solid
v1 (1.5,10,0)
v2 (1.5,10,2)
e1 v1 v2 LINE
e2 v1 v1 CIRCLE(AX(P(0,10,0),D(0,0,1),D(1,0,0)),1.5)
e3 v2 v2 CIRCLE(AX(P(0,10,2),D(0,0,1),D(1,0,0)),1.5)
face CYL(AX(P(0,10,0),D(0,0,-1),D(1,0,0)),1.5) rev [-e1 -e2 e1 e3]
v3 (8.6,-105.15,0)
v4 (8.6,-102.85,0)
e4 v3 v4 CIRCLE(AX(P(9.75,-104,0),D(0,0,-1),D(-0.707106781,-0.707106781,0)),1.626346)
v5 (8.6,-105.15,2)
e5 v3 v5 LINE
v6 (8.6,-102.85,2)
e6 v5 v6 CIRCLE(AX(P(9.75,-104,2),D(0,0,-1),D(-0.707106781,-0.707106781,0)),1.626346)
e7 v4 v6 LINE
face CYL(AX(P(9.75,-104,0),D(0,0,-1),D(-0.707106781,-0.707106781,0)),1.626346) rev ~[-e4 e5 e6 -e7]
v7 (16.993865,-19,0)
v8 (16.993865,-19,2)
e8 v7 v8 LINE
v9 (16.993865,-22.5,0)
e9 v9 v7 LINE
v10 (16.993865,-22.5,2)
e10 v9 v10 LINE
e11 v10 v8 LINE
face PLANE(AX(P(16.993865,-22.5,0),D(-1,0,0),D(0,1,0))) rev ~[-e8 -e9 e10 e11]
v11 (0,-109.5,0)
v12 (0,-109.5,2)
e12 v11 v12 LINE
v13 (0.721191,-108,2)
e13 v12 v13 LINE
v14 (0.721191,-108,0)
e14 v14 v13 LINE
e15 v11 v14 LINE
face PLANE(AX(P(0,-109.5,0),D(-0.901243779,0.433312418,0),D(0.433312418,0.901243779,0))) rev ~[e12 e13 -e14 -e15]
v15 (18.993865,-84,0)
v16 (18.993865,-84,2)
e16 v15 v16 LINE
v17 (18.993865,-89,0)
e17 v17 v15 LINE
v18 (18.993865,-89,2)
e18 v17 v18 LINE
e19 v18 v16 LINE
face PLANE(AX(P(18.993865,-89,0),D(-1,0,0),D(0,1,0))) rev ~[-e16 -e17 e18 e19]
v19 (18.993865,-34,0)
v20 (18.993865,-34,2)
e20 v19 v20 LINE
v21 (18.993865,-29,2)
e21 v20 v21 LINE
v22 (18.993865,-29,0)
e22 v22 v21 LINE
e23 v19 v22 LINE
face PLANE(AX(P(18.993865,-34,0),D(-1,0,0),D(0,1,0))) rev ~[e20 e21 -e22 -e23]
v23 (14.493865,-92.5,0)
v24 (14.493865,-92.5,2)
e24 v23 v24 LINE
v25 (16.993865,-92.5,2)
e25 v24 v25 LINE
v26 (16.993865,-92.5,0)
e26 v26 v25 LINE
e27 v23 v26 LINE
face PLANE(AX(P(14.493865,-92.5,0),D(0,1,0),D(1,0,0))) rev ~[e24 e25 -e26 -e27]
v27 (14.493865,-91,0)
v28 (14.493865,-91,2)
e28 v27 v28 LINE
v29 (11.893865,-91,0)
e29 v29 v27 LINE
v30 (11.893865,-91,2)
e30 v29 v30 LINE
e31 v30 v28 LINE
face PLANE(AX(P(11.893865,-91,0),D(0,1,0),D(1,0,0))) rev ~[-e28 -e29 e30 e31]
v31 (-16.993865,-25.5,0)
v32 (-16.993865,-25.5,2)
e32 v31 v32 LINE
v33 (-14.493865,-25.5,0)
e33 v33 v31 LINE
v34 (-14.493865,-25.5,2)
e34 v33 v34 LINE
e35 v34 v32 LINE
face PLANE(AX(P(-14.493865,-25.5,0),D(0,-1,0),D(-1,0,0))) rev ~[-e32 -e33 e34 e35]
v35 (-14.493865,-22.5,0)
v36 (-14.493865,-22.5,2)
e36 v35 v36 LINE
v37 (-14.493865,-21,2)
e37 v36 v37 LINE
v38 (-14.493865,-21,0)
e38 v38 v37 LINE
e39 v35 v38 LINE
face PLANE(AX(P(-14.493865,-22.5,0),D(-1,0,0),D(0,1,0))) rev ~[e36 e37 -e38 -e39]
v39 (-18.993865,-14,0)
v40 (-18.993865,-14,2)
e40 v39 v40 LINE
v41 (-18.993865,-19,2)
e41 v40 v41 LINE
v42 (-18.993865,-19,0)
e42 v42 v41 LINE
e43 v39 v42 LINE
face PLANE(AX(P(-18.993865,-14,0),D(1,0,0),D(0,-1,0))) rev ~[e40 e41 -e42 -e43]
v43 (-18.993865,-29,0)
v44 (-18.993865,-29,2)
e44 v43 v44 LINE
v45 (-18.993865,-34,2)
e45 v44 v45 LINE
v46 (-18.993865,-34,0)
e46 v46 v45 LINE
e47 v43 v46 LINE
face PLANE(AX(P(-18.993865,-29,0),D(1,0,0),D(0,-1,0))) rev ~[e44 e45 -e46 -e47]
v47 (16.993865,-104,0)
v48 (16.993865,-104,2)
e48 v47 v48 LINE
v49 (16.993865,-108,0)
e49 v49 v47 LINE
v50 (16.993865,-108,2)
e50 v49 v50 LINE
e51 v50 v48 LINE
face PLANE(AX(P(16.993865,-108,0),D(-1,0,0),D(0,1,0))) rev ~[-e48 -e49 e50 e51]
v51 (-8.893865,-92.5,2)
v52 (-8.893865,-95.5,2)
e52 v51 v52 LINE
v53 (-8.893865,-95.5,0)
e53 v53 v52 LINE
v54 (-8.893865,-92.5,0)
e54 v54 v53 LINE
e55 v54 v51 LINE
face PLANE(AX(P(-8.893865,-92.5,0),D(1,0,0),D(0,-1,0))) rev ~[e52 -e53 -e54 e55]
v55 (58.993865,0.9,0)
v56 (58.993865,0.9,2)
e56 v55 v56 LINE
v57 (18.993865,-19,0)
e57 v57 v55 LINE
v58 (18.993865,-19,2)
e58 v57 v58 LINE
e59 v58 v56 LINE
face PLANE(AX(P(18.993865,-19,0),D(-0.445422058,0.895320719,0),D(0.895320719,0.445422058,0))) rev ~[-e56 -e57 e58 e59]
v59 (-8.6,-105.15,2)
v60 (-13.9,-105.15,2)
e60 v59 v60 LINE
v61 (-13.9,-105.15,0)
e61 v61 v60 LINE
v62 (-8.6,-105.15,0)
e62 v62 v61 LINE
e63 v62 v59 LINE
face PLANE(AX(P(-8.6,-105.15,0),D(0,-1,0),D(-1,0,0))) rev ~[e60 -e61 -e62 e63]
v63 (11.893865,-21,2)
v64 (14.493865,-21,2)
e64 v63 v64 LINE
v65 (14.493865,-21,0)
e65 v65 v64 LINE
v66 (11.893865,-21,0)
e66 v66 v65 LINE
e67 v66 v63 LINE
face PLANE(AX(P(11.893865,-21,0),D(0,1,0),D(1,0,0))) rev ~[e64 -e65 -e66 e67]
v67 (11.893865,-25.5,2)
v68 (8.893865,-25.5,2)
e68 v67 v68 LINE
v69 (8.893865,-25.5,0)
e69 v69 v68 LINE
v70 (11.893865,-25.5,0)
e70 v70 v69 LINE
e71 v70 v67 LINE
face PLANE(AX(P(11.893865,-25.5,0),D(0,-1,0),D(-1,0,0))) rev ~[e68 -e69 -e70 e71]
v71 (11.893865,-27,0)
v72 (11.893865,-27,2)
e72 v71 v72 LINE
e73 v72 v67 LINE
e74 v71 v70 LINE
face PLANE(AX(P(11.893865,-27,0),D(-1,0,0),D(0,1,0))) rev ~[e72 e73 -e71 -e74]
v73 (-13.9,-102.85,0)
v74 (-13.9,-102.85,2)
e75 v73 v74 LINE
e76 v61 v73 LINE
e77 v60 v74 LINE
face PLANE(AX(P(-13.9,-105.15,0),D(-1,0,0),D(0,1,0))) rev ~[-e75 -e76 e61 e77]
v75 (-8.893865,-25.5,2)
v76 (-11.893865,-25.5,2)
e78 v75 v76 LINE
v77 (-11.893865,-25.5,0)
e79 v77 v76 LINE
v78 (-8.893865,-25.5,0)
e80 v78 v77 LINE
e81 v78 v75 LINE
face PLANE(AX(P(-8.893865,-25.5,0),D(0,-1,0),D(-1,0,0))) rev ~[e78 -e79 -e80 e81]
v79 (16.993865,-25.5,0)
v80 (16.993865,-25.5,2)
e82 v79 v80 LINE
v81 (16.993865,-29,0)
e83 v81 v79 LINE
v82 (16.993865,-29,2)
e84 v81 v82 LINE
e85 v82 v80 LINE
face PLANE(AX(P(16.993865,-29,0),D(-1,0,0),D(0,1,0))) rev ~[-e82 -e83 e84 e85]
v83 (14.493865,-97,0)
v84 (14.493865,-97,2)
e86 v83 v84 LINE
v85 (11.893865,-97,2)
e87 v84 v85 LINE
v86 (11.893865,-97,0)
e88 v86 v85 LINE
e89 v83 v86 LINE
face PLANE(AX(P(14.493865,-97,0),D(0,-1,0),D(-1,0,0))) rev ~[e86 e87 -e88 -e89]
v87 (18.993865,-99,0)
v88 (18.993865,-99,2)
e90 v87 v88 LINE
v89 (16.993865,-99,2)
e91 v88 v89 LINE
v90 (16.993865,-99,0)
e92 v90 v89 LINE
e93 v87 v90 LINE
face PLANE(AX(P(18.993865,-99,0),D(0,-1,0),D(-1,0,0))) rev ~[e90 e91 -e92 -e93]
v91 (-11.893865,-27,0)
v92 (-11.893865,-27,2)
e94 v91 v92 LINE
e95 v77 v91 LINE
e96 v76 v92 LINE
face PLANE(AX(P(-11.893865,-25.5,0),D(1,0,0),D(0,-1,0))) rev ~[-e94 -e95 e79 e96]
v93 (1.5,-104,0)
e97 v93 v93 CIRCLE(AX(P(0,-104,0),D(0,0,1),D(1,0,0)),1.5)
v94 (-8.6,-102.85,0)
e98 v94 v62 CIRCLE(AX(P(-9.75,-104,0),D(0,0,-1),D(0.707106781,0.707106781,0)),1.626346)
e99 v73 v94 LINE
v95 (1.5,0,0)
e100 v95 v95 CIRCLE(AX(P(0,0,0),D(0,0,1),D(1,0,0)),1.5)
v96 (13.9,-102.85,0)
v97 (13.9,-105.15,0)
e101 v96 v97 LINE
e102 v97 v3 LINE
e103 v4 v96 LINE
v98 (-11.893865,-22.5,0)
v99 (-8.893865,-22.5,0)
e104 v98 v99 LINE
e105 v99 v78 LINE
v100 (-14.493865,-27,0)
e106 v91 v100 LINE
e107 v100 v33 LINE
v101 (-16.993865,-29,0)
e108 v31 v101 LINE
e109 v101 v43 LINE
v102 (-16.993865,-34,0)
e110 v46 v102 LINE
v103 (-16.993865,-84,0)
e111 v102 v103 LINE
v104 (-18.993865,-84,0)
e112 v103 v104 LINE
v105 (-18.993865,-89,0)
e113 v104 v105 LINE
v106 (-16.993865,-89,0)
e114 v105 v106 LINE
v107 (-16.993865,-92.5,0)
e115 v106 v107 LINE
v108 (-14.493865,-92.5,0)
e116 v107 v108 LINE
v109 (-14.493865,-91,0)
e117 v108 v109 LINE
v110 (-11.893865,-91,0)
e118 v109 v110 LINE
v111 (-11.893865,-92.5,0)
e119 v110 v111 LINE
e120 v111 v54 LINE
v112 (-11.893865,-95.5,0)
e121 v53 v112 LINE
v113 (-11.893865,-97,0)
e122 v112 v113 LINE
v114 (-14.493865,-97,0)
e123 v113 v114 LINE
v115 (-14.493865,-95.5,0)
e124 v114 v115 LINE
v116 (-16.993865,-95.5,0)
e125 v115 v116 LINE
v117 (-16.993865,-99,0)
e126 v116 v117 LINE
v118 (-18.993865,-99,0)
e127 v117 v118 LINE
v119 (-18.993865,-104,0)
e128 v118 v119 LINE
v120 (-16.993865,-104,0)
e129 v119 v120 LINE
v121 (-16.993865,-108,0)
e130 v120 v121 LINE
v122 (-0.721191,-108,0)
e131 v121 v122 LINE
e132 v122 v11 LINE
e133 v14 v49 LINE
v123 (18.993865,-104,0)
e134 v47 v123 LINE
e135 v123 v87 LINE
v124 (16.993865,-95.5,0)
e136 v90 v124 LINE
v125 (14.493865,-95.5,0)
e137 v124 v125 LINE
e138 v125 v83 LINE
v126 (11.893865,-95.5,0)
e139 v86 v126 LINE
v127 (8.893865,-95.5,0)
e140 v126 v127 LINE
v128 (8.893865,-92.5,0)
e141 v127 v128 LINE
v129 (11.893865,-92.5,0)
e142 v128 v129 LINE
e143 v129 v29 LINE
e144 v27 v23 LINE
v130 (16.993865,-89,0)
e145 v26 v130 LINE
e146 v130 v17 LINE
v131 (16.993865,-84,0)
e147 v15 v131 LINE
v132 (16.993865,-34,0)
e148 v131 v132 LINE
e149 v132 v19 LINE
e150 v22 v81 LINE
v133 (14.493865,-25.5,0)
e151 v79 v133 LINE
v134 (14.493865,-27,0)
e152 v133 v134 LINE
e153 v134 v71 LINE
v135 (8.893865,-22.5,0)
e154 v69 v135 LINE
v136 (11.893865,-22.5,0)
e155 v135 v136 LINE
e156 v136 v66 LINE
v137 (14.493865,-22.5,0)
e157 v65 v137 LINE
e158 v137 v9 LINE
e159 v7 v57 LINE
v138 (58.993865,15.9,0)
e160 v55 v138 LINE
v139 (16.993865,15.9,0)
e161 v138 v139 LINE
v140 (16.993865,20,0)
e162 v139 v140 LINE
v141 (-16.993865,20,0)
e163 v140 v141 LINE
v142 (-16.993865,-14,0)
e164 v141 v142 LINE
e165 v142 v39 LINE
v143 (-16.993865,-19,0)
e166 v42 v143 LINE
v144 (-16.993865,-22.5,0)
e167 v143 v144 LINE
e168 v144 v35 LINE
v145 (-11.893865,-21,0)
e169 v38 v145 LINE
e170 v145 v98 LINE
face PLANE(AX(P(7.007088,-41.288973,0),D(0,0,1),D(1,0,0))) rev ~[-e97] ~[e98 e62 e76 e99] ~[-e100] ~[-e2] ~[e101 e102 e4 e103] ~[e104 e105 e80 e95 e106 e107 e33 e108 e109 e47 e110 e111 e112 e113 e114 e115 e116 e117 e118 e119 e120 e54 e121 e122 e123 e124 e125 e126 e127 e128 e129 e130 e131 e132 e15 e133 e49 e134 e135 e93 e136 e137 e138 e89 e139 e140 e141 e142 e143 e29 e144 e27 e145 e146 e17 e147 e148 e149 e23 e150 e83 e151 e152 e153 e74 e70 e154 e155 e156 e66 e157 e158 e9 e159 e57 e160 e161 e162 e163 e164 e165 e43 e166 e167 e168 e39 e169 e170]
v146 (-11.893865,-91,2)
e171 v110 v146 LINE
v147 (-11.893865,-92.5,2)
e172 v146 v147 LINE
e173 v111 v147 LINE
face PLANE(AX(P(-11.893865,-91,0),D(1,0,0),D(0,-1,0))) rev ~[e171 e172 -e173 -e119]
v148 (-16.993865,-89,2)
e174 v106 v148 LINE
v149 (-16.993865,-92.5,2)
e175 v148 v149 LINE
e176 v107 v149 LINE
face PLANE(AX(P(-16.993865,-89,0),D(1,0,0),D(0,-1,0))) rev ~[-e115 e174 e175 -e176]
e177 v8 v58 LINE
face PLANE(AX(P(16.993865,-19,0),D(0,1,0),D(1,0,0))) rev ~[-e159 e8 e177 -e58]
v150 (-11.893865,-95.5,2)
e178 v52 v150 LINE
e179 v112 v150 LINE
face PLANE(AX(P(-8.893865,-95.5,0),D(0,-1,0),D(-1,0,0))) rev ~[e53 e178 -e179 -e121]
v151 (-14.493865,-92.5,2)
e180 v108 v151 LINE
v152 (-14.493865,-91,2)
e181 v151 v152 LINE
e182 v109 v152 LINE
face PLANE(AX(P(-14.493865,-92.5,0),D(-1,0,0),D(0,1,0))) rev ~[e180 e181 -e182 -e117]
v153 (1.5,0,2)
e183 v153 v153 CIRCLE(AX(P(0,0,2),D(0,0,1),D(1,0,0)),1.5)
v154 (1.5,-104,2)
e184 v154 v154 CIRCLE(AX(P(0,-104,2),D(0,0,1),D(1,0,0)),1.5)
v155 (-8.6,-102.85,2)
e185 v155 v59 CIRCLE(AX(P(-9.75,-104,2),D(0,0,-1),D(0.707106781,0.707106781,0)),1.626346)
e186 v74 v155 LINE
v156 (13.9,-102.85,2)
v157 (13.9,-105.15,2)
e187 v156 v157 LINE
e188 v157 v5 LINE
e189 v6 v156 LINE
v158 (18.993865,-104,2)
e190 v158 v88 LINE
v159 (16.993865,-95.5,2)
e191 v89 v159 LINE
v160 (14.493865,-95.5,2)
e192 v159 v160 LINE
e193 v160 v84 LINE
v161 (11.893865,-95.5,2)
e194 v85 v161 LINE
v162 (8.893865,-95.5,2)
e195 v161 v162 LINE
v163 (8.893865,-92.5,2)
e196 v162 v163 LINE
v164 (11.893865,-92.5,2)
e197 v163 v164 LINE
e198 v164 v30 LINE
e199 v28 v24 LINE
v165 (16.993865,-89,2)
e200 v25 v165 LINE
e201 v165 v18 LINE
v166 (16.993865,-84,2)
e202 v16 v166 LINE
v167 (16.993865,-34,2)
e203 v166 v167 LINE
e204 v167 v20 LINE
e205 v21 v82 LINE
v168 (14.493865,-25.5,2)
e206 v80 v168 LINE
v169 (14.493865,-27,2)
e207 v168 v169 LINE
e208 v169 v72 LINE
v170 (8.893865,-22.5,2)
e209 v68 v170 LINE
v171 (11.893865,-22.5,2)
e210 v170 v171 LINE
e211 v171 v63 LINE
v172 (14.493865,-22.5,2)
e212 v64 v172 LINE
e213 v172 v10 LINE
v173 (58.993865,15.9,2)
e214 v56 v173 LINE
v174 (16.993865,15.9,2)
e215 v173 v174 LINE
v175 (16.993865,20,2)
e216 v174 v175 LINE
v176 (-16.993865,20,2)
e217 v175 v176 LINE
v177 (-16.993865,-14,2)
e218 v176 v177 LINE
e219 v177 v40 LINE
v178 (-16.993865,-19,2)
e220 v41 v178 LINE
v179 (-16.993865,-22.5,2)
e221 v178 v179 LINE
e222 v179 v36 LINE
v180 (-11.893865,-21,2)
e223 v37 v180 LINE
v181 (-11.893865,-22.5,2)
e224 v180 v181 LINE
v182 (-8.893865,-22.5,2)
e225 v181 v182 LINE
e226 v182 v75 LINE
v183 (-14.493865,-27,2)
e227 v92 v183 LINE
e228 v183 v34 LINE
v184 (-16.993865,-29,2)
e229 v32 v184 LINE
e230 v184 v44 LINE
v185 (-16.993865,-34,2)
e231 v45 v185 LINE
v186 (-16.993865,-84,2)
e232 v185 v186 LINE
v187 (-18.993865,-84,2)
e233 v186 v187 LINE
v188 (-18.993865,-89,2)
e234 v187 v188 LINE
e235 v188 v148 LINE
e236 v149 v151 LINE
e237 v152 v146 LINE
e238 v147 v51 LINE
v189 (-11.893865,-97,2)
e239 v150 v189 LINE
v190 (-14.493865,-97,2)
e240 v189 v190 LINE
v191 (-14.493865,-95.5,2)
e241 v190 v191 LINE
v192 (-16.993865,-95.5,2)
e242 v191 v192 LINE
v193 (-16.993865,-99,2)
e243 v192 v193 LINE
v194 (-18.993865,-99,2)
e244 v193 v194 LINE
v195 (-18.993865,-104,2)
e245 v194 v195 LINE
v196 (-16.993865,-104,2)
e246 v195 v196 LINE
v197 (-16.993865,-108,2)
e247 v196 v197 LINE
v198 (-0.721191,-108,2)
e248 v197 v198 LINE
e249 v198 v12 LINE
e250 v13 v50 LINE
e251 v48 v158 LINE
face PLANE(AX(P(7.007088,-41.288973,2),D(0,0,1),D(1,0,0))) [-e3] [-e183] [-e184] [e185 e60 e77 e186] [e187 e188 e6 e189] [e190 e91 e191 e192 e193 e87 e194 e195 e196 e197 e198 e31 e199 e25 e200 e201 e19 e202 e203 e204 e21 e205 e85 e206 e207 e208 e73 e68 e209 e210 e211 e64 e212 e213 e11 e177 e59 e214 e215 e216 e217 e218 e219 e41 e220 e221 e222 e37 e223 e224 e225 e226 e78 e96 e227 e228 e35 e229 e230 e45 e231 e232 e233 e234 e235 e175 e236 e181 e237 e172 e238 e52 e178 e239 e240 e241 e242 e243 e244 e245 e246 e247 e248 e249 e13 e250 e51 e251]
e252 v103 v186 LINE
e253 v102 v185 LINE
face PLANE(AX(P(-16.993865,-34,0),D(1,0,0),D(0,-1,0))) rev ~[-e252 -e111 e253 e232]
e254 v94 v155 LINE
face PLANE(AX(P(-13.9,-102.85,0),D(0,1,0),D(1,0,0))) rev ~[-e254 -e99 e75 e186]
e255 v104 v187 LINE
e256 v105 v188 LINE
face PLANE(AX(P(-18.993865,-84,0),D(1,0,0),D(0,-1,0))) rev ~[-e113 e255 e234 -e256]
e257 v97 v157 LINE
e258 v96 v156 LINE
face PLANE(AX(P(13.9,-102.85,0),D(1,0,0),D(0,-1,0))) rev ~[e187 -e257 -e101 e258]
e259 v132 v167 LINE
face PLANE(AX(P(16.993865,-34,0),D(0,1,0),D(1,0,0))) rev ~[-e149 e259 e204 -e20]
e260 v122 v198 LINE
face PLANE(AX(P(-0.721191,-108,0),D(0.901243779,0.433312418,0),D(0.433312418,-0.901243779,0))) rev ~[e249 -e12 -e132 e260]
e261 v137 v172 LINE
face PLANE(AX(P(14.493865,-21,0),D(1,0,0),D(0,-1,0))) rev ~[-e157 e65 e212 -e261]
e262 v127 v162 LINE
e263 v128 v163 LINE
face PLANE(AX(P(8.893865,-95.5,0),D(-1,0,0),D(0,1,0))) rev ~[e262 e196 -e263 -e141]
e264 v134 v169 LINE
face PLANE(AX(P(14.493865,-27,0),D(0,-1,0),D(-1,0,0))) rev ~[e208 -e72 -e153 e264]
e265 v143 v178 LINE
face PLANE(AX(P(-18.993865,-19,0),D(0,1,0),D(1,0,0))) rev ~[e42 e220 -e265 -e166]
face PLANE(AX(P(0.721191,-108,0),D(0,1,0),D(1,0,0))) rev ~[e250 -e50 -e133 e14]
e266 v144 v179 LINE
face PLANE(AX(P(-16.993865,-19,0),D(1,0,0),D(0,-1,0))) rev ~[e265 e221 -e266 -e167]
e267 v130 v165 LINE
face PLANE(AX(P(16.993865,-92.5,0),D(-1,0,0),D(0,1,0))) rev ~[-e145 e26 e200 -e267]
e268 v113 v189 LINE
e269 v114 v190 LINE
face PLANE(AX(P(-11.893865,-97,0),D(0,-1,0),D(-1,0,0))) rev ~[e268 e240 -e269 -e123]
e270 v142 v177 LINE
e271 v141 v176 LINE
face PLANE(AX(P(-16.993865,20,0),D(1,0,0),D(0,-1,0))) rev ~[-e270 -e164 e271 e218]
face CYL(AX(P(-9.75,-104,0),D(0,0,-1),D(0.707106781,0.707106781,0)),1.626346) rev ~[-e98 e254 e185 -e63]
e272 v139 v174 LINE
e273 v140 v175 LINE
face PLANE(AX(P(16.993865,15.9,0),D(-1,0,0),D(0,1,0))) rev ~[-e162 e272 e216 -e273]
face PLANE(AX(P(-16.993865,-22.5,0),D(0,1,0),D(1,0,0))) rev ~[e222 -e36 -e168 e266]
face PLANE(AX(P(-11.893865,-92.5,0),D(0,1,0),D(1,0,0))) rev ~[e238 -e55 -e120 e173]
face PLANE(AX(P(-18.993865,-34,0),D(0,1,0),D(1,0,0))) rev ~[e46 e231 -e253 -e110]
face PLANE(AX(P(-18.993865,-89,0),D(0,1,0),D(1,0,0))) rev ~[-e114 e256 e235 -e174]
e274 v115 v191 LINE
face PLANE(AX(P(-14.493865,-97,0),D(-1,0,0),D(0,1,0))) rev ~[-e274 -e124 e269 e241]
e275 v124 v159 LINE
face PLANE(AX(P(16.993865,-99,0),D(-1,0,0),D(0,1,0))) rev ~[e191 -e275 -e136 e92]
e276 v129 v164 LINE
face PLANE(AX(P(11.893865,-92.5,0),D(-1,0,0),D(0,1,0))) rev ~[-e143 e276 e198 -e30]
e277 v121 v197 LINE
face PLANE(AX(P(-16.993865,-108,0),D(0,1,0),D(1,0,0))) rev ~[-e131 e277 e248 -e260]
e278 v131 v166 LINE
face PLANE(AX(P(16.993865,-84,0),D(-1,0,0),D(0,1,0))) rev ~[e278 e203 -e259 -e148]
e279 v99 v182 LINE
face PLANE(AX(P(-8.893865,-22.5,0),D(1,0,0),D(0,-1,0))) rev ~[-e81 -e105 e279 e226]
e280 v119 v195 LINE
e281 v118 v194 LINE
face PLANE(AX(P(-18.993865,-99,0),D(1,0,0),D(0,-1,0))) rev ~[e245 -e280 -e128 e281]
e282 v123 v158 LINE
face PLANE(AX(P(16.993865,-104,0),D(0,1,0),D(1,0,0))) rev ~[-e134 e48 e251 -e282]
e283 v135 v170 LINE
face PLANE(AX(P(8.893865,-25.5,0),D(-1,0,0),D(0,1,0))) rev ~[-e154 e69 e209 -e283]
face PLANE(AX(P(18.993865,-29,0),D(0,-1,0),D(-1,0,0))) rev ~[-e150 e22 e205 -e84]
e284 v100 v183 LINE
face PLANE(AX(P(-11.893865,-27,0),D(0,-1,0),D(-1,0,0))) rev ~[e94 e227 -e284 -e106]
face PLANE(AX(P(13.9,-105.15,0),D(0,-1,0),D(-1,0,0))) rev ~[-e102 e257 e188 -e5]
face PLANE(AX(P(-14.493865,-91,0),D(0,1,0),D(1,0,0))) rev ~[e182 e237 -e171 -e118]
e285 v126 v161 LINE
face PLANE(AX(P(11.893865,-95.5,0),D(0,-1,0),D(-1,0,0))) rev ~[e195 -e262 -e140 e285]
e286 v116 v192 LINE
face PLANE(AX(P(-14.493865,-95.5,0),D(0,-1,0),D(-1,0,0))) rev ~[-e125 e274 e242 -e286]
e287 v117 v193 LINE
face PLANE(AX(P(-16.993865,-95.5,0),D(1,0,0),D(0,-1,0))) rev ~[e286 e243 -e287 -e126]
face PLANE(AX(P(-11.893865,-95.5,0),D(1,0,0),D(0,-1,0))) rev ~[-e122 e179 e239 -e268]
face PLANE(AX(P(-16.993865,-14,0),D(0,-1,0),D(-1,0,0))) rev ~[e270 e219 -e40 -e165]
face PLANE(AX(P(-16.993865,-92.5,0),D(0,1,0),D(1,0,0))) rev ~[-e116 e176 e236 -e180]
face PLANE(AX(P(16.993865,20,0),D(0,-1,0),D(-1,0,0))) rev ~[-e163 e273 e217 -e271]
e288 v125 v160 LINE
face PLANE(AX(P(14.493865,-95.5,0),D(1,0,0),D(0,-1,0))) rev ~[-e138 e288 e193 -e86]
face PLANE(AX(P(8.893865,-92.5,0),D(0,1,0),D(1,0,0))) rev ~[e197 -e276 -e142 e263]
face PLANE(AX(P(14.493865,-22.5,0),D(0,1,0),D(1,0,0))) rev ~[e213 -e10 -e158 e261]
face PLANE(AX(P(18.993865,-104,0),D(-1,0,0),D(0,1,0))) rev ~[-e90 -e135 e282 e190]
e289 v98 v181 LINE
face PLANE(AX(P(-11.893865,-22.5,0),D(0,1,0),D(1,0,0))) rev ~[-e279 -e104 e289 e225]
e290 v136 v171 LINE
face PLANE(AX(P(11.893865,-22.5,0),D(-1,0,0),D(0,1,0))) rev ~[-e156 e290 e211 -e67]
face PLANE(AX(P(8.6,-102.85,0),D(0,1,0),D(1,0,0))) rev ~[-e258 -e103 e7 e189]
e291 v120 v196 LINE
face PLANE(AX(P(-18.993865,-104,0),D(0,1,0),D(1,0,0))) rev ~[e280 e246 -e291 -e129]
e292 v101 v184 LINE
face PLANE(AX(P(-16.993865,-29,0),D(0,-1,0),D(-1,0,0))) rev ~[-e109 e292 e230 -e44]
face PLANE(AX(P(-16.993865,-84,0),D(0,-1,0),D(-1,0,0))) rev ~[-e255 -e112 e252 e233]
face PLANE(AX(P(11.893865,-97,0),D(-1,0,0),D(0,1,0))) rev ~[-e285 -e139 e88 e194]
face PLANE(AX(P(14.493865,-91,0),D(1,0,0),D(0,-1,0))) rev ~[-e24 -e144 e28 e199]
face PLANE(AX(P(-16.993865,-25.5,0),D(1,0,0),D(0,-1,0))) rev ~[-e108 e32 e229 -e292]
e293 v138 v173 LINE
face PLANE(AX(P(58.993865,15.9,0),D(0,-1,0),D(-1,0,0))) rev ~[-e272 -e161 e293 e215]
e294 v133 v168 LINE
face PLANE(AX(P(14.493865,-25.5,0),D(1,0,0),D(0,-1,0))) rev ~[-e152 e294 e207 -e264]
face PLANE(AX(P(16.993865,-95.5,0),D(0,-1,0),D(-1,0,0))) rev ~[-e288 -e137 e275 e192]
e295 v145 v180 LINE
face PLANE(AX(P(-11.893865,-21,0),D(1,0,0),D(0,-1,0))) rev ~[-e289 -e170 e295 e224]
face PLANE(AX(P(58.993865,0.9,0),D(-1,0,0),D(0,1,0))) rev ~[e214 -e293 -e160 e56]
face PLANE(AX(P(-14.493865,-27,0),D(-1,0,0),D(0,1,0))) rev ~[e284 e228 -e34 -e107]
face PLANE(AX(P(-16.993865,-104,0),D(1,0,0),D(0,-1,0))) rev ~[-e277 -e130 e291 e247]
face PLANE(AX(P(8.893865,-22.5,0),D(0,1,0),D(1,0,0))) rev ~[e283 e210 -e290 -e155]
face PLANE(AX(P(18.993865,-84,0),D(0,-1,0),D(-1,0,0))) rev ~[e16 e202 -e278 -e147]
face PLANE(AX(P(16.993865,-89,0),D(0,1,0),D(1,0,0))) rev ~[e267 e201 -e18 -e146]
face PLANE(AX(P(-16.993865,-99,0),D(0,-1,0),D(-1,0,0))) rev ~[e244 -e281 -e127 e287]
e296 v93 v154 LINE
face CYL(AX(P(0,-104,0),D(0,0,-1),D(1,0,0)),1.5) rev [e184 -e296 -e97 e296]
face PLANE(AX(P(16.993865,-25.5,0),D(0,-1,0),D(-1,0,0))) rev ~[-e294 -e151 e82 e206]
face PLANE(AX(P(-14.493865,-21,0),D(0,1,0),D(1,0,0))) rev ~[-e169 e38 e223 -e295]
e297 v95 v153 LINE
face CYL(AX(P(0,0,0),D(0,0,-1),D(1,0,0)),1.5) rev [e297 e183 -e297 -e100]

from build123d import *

# Parameters (mm, degrees)
SKETCH_1_R      = 1.5
EXTRUDE_1_DEPTH = 2


with BuildPart() as part:
    # 草图1 → 凸台-拉伸1 (new body)
    with BuildSketch(Plane.XY):
        Polygon((16.993865071, 15.9), (16.993865071, 20), (-16.993865071, 20), (-16.993865071, 15.9), (-16.993865071, -14), (-18.993865071, -14), (-18.993865071, -19), (-16.993865071, -19), (-16.993865071, -22.5), (-14.493865071, -22.5), (-14.493865071, -21), (-11.893865071, -21), (-11.893865071, -22.5), (-8.893865071, -22.5), (-8.893865071, -25.5), (-11.893865071, -25.5), (-11.893865071, -27), (-14.493865071, -27), (-14.493865071, -25.5), (-16.993865071, -25.5), (-16.993865071, -29), (-18.993865071, -29), (-18.993865071, -34), (-16.993865071, -34), (-16.993865071, -84), (-18.993865071, -84), (-18.993865071, -89), (-16.993865071, -89), (-16.993865071, -92.5), (-14.493865071, -92.5), (-14.493865071, -91), (-11.893865071, -91), (-11.893865071, -92.5), (-8.893865071, -92.5), (-8.893865071, -95.5), (-11.893865071, -95.5), (-11.893865071, -97), (-14.493865071, -97), (-14.493865071, -95.5), (-16.993865071, -95.5), (-16.993865071, -99), (-18.993865071, -99), (-18.993865071, -104), (-16.993865071, -104), (-16.993865071, -108), (-0.721190694, -108), (0, -109.5), (0.721190694, -108), (16.993865071, -108), (16.993865071, -104), (18.993865071, -104), (18.993865071, -99), (16.993865071, -99), (16.993865071, -95.5), (14.493865071, -95.5), (14.493865071, -97), (11.893865071, -97), (11.893865071, -95.5), (8.893865071, -95.5), (8.893865071, -92.5), (11.893865071, -92.5), (11.893865071, -91), (14.493865071, -91), (14.493865071, -92.5), (16.993865071, -92.5), (16.993865071, -89), (18.993865071, -89), (18.993865071, -84), (16.993865071, -84), (16.993865071, -34), (18.993865071, -34), (18.993865071, -29), (16.993865071, -29), (16.993865071, -25.5), (14.493865071, -25.5), (14.493865071, -27), (11.893865071, -27), (11.893865071, -25.5), (8.893865071, -25.5), (8.893865071, -22.5), (11.893865071, -22.5), (11.893865071, -21), (14.493865071, -21), (14.493865071, -22.5), (16.993865071, -22.5), (16.993865071, -19), (18.993865071, -19), (58.993865071, 0.9), (58.993865071, 15.9), align=None)
        with Locations((0, -104)):
            Circle(SKETCH_1_R, mode=Mode.SUBTRACT)
        Circle(SKETCH_1_R, mode=Mode.SUBTRACT)
        with Locations((0, 10)):
            Circle(SKETCH_1_R, mode=Mode.SUBTRACT)
        with BuildLine():
            Line((-13.9, -102.85), (-8.6, -102.85))
            ThreePointArc((-8.6, -102.85), (-8.123654403, -104), (-8.6, -105.15))
            Line((-8.6, -105.15), (-13.9, -105.15))
            Line((-13.9, -105.15), (-13.9, -102.85))
        make_face(mode=Mode.SUBTRACT)
        with BuildLine():
            Line((13.9, -105.15), (8.6, -105.15))
            ThreePointArc((8.6, -105.15), (8.123654403, -104), (8.6, -102.85))
            Line((8.6, -102.85), (13.9, -102.85))
            Line((13.9, -102.85), (13.9, -105.15))
        make_face(mode=Mode.SUBTRACT)
    extrude(amount=EXTRUDE_1_DEPTH)


solid = part.part
